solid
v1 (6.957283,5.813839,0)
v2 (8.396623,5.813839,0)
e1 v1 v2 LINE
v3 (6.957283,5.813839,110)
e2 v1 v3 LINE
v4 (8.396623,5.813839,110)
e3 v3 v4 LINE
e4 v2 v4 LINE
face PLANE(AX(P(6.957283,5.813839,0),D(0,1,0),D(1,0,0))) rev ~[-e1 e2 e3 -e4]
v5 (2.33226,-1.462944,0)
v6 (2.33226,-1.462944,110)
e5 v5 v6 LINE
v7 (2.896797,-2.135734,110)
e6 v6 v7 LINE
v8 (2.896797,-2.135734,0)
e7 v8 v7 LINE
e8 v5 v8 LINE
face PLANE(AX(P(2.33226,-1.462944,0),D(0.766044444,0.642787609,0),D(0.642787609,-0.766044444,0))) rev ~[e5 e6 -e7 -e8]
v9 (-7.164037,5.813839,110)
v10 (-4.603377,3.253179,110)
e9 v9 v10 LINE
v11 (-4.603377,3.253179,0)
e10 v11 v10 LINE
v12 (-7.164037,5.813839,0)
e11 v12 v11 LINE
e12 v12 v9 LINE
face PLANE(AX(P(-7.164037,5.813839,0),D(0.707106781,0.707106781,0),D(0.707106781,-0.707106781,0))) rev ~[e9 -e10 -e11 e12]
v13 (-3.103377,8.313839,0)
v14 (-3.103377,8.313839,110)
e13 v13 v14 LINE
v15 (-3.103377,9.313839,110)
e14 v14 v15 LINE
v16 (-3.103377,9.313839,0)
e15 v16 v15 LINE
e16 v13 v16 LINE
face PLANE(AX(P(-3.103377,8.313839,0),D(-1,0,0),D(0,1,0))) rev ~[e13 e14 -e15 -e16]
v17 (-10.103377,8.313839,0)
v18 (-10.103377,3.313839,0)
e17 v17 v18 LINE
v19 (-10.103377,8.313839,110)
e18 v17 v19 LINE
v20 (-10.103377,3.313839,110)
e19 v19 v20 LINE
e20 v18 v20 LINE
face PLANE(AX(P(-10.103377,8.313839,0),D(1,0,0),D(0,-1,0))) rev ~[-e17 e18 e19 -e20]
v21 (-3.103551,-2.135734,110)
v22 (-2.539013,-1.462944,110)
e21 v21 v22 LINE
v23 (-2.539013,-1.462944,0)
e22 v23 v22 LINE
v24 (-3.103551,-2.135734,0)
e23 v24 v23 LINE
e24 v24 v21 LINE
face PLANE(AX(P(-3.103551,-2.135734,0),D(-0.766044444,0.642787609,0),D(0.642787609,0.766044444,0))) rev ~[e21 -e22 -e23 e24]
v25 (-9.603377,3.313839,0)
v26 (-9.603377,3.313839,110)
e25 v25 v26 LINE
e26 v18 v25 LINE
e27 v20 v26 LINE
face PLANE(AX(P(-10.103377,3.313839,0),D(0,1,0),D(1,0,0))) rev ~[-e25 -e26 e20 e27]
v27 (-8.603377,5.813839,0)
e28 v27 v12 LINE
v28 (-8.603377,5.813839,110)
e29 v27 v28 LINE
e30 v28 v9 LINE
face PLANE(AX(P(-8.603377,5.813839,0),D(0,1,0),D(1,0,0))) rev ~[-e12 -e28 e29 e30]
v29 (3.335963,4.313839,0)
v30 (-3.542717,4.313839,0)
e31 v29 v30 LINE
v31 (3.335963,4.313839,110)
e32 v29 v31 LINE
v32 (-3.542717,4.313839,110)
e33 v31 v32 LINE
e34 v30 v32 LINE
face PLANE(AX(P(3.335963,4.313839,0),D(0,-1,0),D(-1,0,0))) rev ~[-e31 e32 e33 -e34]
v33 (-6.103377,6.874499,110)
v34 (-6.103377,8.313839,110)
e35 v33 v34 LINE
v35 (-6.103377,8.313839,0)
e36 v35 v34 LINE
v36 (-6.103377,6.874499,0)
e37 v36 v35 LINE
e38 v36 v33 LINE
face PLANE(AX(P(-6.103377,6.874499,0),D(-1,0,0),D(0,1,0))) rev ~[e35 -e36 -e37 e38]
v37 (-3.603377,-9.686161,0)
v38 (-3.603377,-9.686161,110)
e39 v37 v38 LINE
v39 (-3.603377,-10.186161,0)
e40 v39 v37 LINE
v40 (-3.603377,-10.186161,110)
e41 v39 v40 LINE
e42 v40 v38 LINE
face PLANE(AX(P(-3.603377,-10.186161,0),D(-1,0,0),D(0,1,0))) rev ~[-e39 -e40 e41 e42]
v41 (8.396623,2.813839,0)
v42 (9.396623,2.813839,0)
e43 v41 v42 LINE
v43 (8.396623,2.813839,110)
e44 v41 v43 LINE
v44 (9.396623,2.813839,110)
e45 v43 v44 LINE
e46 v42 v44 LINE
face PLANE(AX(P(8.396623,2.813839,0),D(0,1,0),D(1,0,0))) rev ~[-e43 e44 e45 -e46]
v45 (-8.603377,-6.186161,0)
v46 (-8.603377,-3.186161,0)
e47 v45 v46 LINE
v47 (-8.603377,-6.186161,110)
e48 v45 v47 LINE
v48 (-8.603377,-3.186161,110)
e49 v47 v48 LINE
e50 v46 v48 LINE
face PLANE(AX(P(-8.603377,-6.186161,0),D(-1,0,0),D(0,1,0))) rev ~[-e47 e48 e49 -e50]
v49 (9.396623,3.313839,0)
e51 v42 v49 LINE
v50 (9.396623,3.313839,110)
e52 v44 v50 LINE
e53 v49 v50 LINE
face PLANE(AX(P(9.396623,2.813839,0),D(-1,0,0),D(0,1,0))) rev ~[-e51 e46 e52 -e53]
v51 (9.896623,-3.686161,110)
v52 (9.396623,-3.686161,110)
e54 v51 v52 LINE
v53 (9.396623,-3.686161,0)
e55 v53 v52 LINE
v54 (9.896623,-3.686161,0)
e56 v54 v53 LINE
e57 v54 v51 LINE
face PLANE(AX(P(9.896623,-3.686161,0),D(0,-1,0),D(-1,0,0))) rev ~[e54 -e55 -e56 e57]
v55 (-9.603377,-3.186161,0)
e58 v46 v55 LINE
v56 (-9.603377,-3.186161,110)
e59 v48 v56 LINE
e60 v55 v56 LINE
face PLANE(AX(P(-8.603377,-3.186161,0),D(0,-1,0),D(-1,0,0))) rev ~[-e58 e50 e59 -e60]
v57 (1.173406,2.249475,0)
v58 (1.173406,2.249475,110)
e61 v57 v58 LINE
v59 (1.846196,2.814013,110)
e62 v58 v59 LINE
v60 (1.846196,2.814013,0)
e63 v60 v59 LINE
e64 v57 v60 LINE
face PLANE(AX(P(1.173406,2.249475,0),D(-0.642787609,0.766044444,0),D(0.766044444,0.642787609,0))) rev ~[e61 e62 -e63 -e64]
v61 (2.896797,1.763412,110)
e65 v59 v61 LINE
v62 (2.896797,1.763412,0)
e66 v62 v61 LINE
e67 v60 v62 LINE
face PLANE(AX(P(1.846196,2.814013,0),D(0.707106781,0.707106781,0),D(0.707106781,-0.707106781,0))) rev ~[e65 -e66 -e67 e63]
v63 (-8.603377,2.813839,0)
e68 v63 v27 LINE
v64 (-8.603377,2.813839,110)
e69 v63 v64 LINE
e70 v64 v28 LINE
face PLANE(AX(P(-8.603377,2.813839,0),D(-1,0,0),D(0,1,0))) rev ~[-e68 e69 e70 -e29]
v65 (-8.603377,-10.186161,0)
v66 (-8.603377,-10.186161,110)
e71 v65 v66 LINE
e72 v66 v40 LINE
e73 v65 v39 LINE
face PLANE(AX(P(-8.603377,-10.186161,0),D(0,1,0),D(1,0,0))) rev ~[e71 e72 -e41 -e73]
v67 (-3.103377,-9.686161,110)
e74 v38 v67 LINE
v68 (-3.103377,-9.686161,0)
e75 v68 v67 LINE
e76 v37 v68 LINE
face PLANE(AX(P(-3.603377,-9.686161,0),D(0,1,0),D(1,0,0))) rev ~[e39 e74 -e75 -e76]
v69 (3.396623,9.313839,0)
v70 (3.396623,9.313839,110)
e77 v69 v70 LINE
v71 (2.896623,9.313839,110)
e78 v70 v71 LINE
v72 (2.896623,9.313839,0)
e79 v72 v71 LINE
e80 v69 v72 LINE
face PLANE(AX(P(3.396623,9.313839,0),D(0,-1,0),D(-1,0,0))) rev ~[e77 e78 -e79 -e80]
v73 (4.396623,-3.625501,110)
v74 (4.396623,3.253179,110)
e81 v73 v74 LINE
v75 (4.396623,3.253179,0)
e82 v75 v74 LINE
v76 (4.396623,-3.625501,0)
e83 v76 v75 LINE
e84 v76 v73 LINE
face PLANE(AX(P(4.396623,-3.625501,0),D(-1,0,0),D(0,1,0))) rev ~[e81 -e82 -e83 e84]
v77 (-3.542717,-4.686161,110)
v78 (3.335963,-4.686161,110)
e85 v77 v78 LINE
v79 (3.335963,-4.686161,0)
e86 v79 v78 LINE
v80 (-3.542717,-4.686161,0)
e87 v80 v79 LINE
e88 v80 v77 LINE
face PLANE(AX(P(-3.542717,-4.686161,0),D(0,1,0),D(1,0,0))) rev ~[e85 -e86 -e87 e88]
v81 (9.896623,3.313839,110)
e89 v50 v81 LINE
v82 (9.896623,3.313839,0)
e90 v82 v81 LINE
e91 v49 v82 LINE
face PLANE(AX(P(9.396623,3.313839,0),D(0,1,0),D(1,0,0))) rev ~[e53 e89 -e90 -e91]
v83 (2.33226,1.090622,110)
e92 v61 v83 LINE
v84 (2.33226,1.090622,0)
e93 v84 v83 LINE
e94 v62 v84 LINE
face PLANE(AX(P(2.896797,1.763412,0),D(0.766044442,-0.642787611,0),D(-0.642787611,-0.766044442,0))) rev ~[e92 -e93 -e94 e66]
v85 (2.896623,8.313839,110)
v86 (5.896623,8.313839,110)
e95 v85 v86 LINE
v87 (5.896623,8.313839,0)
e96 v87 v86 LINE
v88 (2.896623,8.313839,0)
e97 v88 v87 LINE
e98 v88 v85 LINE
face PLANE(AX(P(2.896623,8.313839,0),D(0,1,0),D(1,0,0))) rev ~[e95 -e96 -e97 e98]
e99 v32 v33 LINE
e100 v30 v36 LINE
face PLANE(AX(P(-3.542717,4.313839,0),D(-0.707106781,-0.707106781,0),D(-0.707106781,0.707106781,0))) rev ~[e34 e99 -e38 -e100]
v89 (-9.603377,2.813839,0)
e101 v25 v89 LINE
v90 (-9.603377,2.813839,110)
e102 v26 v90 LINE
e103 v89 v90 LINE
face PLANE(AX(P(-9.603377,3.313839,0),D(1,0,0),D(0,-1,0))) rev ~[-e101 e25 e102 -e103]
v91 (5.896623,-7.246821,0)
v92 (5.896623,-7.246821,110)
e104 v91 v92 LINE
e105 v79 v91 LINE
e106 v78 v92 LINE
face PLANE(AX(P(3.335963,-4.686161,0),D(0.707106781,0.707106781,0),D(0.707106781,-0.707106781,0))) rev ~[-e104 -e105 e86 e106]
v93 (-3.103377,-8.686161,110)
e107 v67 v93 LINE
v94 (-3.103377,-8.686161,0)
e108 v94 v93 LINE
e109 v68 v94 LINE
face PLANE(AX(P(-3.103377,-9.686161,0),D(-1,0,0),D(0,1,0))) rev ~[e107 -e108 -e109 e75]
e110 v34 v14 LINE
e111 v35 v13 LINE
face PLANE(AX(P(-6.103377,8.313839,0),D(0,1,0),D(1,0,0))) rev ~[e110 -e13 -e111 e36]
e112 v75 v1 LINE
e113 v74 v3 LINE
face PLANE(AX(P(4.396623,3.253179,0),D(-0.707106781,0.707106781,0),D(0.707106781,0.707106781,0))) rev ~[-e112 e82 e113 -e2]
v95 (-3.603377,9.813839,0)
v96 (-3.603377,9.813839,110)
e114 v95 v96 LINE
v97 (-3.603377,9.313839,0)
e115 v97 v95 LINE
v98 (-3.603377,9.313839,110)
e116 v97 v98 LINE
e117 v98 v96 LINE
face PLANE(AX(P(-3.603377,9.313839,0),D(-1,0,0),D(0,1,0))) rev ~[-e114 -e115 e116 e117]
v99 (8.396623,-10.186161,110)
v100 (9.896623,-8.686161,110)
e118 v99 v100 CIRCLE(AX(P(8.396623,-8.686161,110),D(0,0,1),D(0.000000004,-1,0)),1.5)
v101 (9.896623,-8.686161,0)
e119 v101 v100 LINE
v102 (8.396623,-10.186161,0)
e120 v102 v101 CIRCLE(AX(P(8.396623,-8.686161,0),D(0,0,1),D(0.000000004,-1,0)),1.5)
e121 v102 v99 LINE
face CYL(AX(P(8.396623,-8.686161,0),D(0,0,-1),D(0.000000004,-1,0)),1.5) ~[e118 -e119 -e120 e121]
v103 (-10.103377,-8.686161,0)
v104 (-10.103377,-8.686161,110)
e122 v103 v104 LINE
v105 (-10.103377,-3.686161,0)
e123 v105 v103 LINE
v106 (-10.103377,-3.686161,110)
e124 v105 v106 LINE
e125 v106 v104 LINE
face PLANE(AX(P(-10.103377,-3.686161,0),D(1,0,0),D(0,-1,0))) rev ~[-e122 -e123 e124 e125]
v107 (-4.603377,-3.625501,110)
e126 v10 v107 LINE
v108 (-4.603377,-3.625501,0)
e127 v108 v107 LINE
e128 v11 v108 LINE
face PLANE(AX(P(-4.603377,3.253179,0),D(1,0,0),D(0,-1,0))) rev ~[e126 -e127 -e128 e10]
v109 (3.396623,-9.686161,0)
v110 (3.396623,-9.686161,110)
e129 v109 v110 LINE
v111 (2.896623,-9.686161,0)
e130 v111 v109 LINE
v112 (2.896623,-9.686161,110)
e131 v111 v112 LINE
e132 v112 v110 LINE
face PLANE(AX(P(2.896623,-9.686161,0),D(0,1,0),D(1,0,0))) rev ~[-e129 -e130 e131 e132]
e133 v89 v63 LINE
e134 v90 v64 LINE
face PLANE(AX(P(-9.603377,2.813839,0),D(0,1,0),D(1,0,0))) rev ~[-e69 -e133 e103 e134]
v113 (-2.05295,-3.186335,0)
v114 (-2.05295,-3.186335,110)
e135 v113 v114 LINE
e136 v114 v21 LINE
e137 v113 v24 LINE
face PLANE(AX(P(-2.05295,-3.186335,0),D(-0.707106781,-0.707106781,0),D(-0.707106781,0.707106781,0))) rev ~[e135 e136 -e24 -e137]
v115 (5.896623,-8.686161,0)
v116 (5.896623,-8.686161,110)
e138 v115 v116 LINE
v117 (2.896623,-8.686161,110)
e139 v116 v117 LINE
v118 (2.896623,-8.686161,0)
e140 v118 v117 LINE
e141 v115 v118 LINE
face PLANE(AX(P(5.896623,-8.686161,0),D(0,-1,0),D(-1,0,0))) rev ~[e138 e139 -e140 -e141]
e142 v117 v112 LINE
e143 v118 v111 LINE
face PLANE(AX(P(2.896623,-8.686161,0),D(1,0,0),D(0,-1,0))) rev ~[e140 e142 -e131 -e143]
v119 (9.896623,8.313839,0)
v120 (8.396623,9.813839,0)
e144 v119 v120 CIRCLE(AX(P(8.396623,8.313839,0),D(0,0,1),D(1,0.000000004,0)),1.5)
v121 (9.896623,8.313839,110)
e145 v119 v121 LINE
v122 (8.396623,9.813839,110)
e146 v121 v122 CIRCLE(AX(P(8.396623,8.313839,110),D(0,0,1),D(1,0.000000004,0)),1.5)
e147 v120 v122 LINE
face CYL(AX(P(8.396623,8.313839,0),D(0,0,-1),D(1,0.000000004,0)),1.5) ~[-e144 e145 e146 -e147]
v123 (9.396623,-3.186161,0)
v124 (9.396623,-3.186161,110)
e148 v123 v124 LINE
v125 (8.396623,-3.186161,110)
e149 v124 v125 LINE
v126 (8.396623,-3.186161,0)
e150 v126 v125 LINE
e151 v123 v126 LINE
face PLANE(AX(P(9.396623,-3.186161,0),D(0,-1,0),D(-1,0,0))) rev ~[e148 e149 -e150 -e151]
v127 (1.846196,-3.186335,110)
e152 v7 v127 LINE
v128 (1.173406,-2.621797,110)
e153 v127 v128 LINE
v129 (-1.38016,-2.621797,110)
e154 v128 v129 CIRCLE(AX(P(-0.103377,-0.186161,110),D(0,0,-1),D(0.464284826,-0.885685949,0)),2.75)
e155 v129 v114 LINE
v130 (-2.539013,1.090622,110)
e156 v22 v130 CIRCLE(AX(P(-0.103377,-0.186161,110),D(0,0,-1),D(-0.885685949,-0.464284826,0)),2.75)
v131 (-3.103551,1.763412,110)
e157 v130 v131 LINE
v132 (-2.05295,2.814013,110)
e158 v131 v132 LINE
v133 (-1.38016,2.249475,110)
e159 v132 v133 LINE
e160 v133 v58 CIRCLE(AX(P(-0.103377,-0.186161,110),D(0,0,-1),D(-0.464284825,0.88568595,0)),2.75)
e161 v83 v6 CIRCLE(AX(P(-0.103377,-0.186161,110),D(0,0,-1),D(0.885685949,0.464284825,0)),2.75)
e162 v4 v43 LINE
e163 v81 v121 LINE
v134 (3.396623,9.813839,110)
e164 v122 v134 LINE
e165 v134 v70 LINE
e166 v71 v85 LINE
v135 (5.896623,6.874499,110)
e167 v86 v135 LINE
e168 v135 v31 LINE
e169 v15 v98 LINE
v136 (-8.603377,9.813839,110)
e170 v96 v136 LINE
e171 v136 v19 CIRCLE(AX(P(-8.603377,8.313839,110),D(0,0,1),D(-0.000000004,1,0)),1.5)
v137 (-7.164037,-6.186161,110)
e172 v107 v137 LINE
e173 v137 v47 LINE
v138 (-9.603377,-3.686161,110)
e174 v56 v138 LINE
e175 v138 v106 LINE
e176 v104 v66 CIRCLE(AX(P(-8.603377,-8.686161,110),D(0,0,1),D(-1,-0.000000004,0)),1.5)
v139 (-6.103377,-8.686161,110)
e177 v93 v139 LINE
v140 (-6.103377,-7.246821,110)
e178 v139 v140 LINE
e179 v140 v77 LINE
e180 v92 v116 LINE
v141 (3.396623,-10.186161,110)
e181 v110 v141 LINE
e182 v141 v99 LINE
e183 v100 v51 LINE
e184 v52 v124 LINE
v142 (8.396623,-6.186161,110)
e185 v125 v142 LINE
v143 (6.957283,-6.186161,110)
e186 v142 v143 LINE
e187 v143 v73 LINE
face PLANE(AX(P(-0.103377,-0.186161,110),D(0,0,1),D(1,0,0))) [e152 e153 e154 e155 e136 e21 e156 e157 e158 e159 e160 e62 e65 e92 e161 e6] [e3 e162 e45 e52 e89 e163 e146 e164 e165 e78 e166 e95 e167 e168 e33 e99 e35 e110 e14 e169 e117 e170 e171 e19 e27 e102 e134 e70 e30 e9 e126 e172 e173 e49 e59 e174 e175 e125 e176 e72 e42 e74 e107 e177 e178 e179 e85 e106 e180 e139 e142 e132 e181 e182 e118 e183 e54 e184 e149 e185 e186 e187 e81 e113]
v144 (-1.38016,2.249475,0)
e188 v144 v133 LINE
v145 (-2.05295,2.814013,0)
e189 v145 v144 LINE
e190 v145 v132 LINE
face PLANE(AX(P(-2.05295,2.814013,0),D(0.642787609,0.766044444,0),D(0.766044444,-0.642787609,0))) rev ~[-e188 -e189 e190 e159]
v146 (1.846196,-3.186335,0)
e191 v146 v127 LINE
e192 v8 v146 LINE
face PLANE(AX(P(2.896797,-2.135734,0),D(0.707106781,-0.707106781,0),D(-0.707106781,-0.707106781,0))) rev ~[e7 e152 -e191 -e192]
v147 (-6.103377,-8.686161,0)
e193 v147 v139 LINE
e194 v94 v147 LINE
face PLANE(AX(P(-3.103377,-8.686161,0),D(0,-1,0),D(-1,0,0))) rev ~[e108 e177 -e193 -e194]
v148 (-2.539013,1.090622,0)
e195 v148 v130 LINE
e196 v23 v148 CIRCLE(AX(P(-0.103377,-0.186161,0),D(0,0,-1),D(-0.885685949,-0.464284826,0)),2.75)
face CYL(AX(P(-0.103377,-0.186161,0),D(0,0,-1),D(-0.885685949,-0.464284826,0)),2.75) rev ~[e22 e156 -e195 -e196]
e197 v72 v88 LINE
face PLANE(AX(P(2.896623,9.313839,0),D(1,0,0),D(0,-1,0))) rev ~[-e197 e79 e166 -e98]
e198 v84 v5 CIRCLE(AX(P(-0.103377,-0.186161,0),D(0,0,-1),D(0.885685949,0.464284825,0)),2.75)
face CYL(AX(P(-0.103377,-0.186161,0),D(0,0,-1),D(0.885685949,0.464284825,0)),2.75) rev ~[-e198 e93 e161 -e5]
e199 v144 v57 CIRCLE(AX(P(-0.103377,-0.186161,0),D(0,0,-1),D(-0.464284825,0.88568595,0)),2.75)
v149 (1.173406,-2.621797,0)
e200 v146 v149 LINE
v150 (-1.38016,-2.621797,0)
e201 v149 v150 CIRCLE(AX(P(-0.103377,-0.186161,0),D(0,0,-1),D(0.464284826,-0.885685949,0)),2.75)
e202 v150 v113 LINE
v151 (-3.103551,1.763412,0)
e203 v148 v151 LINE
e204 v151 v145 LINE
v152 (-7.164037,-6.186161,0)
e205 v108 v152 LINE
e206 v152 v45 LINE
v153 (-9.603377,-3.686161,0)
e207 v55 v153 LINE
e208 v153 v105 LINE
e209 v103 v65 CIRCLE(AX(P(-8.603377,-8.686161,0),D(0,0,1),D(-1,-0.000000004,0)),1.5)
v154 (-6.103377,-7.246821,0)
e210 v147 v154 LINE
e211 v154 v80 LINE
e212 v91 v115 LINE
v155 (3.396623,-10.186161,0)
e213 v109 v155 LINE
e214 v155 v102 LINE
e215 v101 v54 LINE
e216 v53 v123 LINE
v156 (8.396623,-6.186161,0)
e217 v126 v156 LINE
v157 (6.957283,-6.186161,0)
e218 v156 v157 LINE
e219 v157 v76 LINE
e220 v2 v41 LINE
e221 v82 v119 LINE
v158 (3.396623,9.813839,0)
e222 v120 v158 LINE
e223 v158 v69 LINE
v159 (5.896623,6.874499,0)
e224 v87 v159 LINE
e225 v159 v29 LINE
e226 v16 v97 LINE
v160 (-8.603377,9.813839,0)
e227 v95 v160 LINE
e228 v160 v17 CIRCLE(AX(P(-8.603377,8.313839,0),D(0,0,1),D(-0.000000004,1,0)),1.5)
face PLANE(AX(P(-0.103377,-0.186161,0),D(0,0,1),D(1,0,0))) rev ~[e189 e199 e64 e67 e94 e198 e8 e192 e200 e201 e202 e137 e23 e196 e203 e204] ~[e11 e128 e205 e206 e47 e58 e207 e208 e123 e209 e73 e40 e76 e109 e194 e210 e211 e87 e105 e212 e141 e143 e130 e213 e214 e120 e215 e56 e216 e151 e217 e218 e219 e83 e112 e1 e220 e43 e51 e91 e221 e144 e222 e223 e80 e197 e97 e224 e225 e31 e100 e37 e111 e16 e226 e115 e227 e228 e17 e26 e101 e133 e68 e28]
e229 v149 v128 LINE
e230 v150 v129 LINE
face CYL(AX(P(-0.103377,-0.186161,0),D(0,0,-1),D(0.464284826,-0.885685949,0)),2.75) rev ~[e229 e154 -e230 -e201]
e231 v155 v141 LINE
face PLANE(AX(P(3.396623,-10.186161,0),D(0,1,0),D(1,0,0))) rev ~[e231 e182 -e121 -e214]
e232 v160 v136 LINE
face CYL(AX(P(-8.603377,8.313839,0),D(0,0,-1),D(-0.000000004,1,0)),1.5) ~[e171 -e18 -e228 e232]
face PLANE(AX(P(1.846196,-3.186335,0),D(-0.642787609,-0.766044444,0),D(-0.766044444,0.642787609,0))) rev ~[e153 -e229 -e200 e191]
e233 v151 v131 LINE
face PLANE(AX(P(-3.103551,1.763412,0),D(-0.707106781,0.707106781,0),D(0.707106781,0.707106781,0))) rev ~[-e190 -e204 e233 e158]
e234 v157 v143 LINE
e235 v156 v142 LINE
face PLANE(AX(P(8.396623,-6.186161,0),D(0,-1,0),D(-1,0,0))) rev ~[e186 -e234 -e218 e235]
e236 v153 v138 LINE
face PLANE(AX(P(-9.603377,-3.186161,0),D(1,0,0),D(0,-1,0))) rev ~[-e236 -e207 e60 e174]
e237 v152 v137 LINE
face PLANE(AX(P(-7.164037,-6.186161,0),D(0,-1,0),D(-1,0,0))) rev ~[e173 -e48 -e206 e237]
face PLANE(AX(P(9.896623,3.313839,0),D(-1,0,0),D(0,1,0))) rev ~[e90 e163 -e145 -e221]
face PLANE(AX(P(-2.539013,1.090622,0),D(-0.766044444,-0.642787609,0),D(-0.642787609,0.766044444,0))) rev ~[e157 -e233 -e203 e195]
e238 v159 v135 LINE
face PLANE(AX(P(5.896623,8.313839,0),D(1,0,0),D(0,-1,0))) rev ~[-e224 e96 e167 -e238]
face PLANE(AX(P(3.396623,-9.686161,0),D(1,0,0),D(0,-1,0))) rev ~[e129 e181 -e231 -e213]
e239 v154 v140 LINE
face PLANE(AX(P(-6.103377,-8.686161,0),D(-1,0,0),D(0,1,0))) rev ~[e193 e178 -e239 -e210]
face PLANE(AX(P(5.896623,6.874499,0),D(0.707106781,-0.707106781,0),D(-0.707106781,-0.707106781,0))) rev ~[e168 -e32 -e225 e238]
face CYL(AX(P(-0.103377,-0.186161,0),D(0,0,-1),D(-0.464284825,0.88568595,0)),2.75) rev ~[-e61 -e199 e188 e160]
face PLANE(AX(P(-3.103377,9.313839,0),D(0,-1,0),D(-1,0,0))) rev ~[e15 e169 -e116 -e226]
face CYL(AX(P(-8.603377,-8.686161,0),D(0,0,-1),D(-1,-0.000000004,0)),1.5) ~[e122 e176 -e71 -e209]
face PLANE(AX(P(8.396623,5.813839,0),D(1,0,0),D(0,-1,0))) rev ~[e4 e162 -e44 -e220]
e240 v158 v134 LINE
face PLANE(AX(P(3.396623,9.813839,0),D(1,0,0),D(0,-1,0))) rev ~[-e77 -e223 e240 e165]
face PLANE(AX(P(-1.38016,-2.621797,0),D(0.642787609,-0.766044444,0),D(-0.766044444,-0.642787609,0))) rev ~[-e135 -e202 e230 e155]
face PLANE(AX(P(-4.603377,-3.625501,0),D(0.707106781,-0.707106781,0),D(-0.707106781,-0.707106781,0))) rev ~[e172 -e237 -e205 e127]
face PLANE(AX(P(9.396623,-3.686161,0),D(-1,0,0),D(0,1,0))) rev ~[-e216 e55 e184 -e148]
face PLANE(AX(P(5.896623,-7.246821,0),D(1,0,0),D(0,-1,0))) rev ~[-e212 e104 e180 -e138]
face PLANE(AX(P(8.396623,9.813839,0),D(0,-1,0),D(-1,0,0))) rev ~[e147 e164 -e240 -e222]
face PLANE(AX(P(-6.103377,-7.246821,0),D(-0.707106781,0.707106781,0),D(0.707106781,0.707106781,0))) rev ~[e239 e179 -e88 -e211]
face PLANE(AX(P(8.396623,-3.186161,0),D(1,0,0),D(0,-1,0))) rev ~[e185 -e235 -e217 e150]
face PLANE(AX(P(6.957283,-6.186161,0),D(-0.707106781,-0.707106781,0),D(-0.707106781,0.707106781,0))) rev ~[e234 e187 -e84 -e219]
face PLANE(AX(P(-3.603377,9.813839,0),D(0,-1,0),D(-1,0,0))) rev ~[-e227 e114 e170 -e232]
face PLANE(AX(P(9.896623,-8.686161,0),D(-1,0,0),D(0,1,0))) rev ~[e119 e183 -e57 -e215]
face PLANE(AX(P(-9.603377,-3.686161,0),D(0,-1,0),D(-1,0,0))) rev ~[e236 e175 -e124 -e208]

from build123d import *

# Parameters (mm, degrees)
AUFSATZ_LINEAR_AUSTRAGEN1_DEPTH = 110


with BuildPart() as part:
    # Skizze1 → Aufsatz-Linear austragen1 (new body)
    with BuildSketch(Plane.XY):
        with BuildLine():
            Line((9.896623228, -8.686160957), (9.896623228, -3.686160957))
            Line((9.896623228, -3.686160957), (9.396623228, -3.686160957))
            Line((9.396623228, -3.686160957), (9.396623228, -3.186160957))
            Line((9.396623228, -3.186160957), (8.396623228, -3.186160957))
            Line((8.396623228, -3.186160957), (8.396623228, -6.186160957))
            Line((8.396623228, -6.186160957), (6.957283398, -6.186160957))
            Line((6.957283398, -6.186160957), (4.396623228, -3.625500787))
            Line((4.396623228, -3.625500787), (4.396623228, 3.253178873))
            Line((4.396623228, 3.253178873), (6.957283398, 5.813839043))
            Line((6.957283398, 5.813839043), (8.396623228, 5.813839043))
            Line((8.396623228, 5.813839043), (8.396623228, 2.813839043))
            Line((8.396623228, 2.813839043), (9.396623228, 2.813839043))
            Line((9.396623228, 2.813839043), (9.396623228, 3.313839043))
            Line((9.396623228, 3.313839043), (9.896623228, 3.313839043))
            Line((9.896623228, 3.313839043), (9.896623228, 8.313839043))
            ThreePointArc((9.896623228, 8.313839043), (9.457283398, 9.374499213), (8.396623228, 9.813839043))
            Line((8.396623228, 9.813839043), (3.396623228, 9.813839043))
            Line((3.396623228, 9.813839043), (3.396623228, 9.313839043))
            Line((3.396623228, 9.313839043), (2.896623228, 9.313839043))
            Line((2.896623228, 9.313839043), (2.896623228, 8.313839043))
            Line((2.896623228, 8.313839043), (5.896623228, 8.313839043))
            Line((5.896623228, 8.313839043), (5.896623228, 6.874499213))
            Line((5.896623228, 6.874499213), (3.335963058, 4.313839043))
            Line((3.335963058, 4.313839043), (-3.542716602, 4.313839043))
            Line((-3.542716602, 4.313839043), (-6.103376772, 6.874499213))
            Line((-6.103376772, 6.874499213), (-6.103376772, 8.313839043))
            Line((-6.103376772, 8.313839043), (-3.103376772, 8.313839043))
            Line((-3.103376772, 8.313839043), (-3.103376772, 9.313839043))
            Line((-3.103376772, 9.313839043), (-3.603376772, 9.313839043))
            Line((-3.603376772, 9.313839043), (-3.603376772, 9.813839043))
            Line((-3.603376772, 9.813839043), (-8.603376772, 9.813839043))
            ThreePointArc((-8.603376772, 9.813839043), (-9.664036942, 9.374499213), (-10.103376772, 8.313839043))
            Line((-10.103376772, 8.313839043), (-10.103376772, 3.313839043))
            Line((-10.103376772, 3.313839043), (-9.603376772, 3.313839043))
            Line((-9.603376772, 3.313839043), (-9.603376772, 2.813839043))
            Line((-9.603376772, 2.813839043), (-8.603376772, 2.813839043))
            Line((-8.603376772, 2.813839043), (-8.603376772, 5.813839043))
            Line((-8.603376772, 5.813839043), (-7.164036942, 5.813839043))
            Line((-7.164036942, 5.813839043), (-4.603376772, 3.253178873))
            Line((-4.603376772, 3.253178873), (-4.603376772, -3.625500787))
            Line((-4.603376772, -3.625500787), (-7.164036942, -6.186160957))
            Line((-7.164036942, -6.186160957), (-8.603376772, -6.186160957))
            Line((-8.603376772, -6.186160957), (-8.603376772, -3.186160957))
            Line((-8.603376772, -3.186160957), (-9.603376772, -3.186160957))
            Line((-9.603376772, -3.186160957), (-9.603376772, -3.686160957))
            Line((-9.603376772, -3.686160957), (-10.103376772, -3.686160957))
            Line((-10.103376772, -3.686160957), (-10.103376772, -8.686160957))
            ThreePointArc((-10.103376772, -8.686160957), (-9.664036942, -9.746821127), (-8.603376772, -10.186160957))
            Line((-8.603376772, -10.186160957), (-3.603376772, -10.186160957))
            Line((-3.603376772, -10.186160957), (-3.603376772, -9.686160957))
            Line((-3.603376772, -9.686160957), (-3.103376772, -9.686160957))
            Line((-3.103376772, -9.686160957), (-3.103376772, -8.686160957))
            Line((-3.103376772, -8.686160957), (-6.103376772, -8.686160957))
            Line((-6.103376772, -8.686160957), (-6.103376772, -7.246821127))
            Line((-6.103376772, -7.246821127), (-3.542716602, -4.686160957))
            Line((-3.542716602, -4.686160957), (3.335963058, -4.686160957))
            Line((3.335963058, -4.686160957), (5.896623228, -7.246821127))
            Line((5.896623228, -7.246821127), (5.896623228, -8.686160957))
            Line((5.896623228, -8.686160957), (2.896623228, -8.686160957))
            Line((2.896623228, -8.686160957), (2.896623228, -9.686160957))
            Line((2.896623228, -9.686160957), (3.396623228, -9.686160957))
            Line((3.396623228, -9.686160957), (3.396623228, -10.186160957))
            Line((3.396623228, -10.186160957), (8.396623228, -10.186160957))
            ThreePointArc((8.396623228, -10.186160957), (9.457283398, -9.746821127), (9.896623228, -8.686160957))
        make_face()
        with BuildLine():
            Line((-2.539013132, 1.090622313), (-3.103550972, 1.763412313))
            Line((-3.103550972, 1.763412313), (-2.052950042, 2.814013243))
            Line((-2.052950042, 2.814013243), (-1.380160042, 2.249475403))
            ThreePointArc((-1.380160042, 2.249475403), (-0.103376772, 2.563839041), (1.173406498, 2.249475399))
            Line((1.173406498, 2.249475399), (1.846196498, 2.814013239))
            Line((1.846196498, 2.814013239), (2.896797428, 1.763412309))
            Line((2.896797428, 1.763412309), (2.332259586, 1.09062231))
            ThreePointArc((2.332259586, 1.09062231), (2.646623225, -0.186160958), (2.332259587, -1.462944226))
            Line((2.332259587, -1.462944226), (2.896797427, -2.135734226))
            Line((2.896797427, -2.135734226), (1.846196497, -3.186335156))
            Line((1.846196497, -3.186335156), (1.173406497, -2.621797316))
            ThreePointArc((1.173406497, -2.621797316), (-0.103376773, -2.936160957), (-1.380160043, -2.62179732))
            Line((-1.380160043, -2.62179732), (-2.052950043, -3.18633516))
            Line((-2.052950043, -3.18633516), (-3.103550973, -2.13573423))
            Line((-3.103550973, -2.13573423), (-2.539013133, -1.46294423))
            ThreePointArc((-2.539013133, -1.46294423), (-2.853376773, -0.186160958), (-2.539013132, 1.090622313))
        make_face(mode=Mode.SUBTRACT)
    extrude(amount=AUFSATZ_LINEAR_AUSTRAGEN1_DEPTH)


solid = part.part
